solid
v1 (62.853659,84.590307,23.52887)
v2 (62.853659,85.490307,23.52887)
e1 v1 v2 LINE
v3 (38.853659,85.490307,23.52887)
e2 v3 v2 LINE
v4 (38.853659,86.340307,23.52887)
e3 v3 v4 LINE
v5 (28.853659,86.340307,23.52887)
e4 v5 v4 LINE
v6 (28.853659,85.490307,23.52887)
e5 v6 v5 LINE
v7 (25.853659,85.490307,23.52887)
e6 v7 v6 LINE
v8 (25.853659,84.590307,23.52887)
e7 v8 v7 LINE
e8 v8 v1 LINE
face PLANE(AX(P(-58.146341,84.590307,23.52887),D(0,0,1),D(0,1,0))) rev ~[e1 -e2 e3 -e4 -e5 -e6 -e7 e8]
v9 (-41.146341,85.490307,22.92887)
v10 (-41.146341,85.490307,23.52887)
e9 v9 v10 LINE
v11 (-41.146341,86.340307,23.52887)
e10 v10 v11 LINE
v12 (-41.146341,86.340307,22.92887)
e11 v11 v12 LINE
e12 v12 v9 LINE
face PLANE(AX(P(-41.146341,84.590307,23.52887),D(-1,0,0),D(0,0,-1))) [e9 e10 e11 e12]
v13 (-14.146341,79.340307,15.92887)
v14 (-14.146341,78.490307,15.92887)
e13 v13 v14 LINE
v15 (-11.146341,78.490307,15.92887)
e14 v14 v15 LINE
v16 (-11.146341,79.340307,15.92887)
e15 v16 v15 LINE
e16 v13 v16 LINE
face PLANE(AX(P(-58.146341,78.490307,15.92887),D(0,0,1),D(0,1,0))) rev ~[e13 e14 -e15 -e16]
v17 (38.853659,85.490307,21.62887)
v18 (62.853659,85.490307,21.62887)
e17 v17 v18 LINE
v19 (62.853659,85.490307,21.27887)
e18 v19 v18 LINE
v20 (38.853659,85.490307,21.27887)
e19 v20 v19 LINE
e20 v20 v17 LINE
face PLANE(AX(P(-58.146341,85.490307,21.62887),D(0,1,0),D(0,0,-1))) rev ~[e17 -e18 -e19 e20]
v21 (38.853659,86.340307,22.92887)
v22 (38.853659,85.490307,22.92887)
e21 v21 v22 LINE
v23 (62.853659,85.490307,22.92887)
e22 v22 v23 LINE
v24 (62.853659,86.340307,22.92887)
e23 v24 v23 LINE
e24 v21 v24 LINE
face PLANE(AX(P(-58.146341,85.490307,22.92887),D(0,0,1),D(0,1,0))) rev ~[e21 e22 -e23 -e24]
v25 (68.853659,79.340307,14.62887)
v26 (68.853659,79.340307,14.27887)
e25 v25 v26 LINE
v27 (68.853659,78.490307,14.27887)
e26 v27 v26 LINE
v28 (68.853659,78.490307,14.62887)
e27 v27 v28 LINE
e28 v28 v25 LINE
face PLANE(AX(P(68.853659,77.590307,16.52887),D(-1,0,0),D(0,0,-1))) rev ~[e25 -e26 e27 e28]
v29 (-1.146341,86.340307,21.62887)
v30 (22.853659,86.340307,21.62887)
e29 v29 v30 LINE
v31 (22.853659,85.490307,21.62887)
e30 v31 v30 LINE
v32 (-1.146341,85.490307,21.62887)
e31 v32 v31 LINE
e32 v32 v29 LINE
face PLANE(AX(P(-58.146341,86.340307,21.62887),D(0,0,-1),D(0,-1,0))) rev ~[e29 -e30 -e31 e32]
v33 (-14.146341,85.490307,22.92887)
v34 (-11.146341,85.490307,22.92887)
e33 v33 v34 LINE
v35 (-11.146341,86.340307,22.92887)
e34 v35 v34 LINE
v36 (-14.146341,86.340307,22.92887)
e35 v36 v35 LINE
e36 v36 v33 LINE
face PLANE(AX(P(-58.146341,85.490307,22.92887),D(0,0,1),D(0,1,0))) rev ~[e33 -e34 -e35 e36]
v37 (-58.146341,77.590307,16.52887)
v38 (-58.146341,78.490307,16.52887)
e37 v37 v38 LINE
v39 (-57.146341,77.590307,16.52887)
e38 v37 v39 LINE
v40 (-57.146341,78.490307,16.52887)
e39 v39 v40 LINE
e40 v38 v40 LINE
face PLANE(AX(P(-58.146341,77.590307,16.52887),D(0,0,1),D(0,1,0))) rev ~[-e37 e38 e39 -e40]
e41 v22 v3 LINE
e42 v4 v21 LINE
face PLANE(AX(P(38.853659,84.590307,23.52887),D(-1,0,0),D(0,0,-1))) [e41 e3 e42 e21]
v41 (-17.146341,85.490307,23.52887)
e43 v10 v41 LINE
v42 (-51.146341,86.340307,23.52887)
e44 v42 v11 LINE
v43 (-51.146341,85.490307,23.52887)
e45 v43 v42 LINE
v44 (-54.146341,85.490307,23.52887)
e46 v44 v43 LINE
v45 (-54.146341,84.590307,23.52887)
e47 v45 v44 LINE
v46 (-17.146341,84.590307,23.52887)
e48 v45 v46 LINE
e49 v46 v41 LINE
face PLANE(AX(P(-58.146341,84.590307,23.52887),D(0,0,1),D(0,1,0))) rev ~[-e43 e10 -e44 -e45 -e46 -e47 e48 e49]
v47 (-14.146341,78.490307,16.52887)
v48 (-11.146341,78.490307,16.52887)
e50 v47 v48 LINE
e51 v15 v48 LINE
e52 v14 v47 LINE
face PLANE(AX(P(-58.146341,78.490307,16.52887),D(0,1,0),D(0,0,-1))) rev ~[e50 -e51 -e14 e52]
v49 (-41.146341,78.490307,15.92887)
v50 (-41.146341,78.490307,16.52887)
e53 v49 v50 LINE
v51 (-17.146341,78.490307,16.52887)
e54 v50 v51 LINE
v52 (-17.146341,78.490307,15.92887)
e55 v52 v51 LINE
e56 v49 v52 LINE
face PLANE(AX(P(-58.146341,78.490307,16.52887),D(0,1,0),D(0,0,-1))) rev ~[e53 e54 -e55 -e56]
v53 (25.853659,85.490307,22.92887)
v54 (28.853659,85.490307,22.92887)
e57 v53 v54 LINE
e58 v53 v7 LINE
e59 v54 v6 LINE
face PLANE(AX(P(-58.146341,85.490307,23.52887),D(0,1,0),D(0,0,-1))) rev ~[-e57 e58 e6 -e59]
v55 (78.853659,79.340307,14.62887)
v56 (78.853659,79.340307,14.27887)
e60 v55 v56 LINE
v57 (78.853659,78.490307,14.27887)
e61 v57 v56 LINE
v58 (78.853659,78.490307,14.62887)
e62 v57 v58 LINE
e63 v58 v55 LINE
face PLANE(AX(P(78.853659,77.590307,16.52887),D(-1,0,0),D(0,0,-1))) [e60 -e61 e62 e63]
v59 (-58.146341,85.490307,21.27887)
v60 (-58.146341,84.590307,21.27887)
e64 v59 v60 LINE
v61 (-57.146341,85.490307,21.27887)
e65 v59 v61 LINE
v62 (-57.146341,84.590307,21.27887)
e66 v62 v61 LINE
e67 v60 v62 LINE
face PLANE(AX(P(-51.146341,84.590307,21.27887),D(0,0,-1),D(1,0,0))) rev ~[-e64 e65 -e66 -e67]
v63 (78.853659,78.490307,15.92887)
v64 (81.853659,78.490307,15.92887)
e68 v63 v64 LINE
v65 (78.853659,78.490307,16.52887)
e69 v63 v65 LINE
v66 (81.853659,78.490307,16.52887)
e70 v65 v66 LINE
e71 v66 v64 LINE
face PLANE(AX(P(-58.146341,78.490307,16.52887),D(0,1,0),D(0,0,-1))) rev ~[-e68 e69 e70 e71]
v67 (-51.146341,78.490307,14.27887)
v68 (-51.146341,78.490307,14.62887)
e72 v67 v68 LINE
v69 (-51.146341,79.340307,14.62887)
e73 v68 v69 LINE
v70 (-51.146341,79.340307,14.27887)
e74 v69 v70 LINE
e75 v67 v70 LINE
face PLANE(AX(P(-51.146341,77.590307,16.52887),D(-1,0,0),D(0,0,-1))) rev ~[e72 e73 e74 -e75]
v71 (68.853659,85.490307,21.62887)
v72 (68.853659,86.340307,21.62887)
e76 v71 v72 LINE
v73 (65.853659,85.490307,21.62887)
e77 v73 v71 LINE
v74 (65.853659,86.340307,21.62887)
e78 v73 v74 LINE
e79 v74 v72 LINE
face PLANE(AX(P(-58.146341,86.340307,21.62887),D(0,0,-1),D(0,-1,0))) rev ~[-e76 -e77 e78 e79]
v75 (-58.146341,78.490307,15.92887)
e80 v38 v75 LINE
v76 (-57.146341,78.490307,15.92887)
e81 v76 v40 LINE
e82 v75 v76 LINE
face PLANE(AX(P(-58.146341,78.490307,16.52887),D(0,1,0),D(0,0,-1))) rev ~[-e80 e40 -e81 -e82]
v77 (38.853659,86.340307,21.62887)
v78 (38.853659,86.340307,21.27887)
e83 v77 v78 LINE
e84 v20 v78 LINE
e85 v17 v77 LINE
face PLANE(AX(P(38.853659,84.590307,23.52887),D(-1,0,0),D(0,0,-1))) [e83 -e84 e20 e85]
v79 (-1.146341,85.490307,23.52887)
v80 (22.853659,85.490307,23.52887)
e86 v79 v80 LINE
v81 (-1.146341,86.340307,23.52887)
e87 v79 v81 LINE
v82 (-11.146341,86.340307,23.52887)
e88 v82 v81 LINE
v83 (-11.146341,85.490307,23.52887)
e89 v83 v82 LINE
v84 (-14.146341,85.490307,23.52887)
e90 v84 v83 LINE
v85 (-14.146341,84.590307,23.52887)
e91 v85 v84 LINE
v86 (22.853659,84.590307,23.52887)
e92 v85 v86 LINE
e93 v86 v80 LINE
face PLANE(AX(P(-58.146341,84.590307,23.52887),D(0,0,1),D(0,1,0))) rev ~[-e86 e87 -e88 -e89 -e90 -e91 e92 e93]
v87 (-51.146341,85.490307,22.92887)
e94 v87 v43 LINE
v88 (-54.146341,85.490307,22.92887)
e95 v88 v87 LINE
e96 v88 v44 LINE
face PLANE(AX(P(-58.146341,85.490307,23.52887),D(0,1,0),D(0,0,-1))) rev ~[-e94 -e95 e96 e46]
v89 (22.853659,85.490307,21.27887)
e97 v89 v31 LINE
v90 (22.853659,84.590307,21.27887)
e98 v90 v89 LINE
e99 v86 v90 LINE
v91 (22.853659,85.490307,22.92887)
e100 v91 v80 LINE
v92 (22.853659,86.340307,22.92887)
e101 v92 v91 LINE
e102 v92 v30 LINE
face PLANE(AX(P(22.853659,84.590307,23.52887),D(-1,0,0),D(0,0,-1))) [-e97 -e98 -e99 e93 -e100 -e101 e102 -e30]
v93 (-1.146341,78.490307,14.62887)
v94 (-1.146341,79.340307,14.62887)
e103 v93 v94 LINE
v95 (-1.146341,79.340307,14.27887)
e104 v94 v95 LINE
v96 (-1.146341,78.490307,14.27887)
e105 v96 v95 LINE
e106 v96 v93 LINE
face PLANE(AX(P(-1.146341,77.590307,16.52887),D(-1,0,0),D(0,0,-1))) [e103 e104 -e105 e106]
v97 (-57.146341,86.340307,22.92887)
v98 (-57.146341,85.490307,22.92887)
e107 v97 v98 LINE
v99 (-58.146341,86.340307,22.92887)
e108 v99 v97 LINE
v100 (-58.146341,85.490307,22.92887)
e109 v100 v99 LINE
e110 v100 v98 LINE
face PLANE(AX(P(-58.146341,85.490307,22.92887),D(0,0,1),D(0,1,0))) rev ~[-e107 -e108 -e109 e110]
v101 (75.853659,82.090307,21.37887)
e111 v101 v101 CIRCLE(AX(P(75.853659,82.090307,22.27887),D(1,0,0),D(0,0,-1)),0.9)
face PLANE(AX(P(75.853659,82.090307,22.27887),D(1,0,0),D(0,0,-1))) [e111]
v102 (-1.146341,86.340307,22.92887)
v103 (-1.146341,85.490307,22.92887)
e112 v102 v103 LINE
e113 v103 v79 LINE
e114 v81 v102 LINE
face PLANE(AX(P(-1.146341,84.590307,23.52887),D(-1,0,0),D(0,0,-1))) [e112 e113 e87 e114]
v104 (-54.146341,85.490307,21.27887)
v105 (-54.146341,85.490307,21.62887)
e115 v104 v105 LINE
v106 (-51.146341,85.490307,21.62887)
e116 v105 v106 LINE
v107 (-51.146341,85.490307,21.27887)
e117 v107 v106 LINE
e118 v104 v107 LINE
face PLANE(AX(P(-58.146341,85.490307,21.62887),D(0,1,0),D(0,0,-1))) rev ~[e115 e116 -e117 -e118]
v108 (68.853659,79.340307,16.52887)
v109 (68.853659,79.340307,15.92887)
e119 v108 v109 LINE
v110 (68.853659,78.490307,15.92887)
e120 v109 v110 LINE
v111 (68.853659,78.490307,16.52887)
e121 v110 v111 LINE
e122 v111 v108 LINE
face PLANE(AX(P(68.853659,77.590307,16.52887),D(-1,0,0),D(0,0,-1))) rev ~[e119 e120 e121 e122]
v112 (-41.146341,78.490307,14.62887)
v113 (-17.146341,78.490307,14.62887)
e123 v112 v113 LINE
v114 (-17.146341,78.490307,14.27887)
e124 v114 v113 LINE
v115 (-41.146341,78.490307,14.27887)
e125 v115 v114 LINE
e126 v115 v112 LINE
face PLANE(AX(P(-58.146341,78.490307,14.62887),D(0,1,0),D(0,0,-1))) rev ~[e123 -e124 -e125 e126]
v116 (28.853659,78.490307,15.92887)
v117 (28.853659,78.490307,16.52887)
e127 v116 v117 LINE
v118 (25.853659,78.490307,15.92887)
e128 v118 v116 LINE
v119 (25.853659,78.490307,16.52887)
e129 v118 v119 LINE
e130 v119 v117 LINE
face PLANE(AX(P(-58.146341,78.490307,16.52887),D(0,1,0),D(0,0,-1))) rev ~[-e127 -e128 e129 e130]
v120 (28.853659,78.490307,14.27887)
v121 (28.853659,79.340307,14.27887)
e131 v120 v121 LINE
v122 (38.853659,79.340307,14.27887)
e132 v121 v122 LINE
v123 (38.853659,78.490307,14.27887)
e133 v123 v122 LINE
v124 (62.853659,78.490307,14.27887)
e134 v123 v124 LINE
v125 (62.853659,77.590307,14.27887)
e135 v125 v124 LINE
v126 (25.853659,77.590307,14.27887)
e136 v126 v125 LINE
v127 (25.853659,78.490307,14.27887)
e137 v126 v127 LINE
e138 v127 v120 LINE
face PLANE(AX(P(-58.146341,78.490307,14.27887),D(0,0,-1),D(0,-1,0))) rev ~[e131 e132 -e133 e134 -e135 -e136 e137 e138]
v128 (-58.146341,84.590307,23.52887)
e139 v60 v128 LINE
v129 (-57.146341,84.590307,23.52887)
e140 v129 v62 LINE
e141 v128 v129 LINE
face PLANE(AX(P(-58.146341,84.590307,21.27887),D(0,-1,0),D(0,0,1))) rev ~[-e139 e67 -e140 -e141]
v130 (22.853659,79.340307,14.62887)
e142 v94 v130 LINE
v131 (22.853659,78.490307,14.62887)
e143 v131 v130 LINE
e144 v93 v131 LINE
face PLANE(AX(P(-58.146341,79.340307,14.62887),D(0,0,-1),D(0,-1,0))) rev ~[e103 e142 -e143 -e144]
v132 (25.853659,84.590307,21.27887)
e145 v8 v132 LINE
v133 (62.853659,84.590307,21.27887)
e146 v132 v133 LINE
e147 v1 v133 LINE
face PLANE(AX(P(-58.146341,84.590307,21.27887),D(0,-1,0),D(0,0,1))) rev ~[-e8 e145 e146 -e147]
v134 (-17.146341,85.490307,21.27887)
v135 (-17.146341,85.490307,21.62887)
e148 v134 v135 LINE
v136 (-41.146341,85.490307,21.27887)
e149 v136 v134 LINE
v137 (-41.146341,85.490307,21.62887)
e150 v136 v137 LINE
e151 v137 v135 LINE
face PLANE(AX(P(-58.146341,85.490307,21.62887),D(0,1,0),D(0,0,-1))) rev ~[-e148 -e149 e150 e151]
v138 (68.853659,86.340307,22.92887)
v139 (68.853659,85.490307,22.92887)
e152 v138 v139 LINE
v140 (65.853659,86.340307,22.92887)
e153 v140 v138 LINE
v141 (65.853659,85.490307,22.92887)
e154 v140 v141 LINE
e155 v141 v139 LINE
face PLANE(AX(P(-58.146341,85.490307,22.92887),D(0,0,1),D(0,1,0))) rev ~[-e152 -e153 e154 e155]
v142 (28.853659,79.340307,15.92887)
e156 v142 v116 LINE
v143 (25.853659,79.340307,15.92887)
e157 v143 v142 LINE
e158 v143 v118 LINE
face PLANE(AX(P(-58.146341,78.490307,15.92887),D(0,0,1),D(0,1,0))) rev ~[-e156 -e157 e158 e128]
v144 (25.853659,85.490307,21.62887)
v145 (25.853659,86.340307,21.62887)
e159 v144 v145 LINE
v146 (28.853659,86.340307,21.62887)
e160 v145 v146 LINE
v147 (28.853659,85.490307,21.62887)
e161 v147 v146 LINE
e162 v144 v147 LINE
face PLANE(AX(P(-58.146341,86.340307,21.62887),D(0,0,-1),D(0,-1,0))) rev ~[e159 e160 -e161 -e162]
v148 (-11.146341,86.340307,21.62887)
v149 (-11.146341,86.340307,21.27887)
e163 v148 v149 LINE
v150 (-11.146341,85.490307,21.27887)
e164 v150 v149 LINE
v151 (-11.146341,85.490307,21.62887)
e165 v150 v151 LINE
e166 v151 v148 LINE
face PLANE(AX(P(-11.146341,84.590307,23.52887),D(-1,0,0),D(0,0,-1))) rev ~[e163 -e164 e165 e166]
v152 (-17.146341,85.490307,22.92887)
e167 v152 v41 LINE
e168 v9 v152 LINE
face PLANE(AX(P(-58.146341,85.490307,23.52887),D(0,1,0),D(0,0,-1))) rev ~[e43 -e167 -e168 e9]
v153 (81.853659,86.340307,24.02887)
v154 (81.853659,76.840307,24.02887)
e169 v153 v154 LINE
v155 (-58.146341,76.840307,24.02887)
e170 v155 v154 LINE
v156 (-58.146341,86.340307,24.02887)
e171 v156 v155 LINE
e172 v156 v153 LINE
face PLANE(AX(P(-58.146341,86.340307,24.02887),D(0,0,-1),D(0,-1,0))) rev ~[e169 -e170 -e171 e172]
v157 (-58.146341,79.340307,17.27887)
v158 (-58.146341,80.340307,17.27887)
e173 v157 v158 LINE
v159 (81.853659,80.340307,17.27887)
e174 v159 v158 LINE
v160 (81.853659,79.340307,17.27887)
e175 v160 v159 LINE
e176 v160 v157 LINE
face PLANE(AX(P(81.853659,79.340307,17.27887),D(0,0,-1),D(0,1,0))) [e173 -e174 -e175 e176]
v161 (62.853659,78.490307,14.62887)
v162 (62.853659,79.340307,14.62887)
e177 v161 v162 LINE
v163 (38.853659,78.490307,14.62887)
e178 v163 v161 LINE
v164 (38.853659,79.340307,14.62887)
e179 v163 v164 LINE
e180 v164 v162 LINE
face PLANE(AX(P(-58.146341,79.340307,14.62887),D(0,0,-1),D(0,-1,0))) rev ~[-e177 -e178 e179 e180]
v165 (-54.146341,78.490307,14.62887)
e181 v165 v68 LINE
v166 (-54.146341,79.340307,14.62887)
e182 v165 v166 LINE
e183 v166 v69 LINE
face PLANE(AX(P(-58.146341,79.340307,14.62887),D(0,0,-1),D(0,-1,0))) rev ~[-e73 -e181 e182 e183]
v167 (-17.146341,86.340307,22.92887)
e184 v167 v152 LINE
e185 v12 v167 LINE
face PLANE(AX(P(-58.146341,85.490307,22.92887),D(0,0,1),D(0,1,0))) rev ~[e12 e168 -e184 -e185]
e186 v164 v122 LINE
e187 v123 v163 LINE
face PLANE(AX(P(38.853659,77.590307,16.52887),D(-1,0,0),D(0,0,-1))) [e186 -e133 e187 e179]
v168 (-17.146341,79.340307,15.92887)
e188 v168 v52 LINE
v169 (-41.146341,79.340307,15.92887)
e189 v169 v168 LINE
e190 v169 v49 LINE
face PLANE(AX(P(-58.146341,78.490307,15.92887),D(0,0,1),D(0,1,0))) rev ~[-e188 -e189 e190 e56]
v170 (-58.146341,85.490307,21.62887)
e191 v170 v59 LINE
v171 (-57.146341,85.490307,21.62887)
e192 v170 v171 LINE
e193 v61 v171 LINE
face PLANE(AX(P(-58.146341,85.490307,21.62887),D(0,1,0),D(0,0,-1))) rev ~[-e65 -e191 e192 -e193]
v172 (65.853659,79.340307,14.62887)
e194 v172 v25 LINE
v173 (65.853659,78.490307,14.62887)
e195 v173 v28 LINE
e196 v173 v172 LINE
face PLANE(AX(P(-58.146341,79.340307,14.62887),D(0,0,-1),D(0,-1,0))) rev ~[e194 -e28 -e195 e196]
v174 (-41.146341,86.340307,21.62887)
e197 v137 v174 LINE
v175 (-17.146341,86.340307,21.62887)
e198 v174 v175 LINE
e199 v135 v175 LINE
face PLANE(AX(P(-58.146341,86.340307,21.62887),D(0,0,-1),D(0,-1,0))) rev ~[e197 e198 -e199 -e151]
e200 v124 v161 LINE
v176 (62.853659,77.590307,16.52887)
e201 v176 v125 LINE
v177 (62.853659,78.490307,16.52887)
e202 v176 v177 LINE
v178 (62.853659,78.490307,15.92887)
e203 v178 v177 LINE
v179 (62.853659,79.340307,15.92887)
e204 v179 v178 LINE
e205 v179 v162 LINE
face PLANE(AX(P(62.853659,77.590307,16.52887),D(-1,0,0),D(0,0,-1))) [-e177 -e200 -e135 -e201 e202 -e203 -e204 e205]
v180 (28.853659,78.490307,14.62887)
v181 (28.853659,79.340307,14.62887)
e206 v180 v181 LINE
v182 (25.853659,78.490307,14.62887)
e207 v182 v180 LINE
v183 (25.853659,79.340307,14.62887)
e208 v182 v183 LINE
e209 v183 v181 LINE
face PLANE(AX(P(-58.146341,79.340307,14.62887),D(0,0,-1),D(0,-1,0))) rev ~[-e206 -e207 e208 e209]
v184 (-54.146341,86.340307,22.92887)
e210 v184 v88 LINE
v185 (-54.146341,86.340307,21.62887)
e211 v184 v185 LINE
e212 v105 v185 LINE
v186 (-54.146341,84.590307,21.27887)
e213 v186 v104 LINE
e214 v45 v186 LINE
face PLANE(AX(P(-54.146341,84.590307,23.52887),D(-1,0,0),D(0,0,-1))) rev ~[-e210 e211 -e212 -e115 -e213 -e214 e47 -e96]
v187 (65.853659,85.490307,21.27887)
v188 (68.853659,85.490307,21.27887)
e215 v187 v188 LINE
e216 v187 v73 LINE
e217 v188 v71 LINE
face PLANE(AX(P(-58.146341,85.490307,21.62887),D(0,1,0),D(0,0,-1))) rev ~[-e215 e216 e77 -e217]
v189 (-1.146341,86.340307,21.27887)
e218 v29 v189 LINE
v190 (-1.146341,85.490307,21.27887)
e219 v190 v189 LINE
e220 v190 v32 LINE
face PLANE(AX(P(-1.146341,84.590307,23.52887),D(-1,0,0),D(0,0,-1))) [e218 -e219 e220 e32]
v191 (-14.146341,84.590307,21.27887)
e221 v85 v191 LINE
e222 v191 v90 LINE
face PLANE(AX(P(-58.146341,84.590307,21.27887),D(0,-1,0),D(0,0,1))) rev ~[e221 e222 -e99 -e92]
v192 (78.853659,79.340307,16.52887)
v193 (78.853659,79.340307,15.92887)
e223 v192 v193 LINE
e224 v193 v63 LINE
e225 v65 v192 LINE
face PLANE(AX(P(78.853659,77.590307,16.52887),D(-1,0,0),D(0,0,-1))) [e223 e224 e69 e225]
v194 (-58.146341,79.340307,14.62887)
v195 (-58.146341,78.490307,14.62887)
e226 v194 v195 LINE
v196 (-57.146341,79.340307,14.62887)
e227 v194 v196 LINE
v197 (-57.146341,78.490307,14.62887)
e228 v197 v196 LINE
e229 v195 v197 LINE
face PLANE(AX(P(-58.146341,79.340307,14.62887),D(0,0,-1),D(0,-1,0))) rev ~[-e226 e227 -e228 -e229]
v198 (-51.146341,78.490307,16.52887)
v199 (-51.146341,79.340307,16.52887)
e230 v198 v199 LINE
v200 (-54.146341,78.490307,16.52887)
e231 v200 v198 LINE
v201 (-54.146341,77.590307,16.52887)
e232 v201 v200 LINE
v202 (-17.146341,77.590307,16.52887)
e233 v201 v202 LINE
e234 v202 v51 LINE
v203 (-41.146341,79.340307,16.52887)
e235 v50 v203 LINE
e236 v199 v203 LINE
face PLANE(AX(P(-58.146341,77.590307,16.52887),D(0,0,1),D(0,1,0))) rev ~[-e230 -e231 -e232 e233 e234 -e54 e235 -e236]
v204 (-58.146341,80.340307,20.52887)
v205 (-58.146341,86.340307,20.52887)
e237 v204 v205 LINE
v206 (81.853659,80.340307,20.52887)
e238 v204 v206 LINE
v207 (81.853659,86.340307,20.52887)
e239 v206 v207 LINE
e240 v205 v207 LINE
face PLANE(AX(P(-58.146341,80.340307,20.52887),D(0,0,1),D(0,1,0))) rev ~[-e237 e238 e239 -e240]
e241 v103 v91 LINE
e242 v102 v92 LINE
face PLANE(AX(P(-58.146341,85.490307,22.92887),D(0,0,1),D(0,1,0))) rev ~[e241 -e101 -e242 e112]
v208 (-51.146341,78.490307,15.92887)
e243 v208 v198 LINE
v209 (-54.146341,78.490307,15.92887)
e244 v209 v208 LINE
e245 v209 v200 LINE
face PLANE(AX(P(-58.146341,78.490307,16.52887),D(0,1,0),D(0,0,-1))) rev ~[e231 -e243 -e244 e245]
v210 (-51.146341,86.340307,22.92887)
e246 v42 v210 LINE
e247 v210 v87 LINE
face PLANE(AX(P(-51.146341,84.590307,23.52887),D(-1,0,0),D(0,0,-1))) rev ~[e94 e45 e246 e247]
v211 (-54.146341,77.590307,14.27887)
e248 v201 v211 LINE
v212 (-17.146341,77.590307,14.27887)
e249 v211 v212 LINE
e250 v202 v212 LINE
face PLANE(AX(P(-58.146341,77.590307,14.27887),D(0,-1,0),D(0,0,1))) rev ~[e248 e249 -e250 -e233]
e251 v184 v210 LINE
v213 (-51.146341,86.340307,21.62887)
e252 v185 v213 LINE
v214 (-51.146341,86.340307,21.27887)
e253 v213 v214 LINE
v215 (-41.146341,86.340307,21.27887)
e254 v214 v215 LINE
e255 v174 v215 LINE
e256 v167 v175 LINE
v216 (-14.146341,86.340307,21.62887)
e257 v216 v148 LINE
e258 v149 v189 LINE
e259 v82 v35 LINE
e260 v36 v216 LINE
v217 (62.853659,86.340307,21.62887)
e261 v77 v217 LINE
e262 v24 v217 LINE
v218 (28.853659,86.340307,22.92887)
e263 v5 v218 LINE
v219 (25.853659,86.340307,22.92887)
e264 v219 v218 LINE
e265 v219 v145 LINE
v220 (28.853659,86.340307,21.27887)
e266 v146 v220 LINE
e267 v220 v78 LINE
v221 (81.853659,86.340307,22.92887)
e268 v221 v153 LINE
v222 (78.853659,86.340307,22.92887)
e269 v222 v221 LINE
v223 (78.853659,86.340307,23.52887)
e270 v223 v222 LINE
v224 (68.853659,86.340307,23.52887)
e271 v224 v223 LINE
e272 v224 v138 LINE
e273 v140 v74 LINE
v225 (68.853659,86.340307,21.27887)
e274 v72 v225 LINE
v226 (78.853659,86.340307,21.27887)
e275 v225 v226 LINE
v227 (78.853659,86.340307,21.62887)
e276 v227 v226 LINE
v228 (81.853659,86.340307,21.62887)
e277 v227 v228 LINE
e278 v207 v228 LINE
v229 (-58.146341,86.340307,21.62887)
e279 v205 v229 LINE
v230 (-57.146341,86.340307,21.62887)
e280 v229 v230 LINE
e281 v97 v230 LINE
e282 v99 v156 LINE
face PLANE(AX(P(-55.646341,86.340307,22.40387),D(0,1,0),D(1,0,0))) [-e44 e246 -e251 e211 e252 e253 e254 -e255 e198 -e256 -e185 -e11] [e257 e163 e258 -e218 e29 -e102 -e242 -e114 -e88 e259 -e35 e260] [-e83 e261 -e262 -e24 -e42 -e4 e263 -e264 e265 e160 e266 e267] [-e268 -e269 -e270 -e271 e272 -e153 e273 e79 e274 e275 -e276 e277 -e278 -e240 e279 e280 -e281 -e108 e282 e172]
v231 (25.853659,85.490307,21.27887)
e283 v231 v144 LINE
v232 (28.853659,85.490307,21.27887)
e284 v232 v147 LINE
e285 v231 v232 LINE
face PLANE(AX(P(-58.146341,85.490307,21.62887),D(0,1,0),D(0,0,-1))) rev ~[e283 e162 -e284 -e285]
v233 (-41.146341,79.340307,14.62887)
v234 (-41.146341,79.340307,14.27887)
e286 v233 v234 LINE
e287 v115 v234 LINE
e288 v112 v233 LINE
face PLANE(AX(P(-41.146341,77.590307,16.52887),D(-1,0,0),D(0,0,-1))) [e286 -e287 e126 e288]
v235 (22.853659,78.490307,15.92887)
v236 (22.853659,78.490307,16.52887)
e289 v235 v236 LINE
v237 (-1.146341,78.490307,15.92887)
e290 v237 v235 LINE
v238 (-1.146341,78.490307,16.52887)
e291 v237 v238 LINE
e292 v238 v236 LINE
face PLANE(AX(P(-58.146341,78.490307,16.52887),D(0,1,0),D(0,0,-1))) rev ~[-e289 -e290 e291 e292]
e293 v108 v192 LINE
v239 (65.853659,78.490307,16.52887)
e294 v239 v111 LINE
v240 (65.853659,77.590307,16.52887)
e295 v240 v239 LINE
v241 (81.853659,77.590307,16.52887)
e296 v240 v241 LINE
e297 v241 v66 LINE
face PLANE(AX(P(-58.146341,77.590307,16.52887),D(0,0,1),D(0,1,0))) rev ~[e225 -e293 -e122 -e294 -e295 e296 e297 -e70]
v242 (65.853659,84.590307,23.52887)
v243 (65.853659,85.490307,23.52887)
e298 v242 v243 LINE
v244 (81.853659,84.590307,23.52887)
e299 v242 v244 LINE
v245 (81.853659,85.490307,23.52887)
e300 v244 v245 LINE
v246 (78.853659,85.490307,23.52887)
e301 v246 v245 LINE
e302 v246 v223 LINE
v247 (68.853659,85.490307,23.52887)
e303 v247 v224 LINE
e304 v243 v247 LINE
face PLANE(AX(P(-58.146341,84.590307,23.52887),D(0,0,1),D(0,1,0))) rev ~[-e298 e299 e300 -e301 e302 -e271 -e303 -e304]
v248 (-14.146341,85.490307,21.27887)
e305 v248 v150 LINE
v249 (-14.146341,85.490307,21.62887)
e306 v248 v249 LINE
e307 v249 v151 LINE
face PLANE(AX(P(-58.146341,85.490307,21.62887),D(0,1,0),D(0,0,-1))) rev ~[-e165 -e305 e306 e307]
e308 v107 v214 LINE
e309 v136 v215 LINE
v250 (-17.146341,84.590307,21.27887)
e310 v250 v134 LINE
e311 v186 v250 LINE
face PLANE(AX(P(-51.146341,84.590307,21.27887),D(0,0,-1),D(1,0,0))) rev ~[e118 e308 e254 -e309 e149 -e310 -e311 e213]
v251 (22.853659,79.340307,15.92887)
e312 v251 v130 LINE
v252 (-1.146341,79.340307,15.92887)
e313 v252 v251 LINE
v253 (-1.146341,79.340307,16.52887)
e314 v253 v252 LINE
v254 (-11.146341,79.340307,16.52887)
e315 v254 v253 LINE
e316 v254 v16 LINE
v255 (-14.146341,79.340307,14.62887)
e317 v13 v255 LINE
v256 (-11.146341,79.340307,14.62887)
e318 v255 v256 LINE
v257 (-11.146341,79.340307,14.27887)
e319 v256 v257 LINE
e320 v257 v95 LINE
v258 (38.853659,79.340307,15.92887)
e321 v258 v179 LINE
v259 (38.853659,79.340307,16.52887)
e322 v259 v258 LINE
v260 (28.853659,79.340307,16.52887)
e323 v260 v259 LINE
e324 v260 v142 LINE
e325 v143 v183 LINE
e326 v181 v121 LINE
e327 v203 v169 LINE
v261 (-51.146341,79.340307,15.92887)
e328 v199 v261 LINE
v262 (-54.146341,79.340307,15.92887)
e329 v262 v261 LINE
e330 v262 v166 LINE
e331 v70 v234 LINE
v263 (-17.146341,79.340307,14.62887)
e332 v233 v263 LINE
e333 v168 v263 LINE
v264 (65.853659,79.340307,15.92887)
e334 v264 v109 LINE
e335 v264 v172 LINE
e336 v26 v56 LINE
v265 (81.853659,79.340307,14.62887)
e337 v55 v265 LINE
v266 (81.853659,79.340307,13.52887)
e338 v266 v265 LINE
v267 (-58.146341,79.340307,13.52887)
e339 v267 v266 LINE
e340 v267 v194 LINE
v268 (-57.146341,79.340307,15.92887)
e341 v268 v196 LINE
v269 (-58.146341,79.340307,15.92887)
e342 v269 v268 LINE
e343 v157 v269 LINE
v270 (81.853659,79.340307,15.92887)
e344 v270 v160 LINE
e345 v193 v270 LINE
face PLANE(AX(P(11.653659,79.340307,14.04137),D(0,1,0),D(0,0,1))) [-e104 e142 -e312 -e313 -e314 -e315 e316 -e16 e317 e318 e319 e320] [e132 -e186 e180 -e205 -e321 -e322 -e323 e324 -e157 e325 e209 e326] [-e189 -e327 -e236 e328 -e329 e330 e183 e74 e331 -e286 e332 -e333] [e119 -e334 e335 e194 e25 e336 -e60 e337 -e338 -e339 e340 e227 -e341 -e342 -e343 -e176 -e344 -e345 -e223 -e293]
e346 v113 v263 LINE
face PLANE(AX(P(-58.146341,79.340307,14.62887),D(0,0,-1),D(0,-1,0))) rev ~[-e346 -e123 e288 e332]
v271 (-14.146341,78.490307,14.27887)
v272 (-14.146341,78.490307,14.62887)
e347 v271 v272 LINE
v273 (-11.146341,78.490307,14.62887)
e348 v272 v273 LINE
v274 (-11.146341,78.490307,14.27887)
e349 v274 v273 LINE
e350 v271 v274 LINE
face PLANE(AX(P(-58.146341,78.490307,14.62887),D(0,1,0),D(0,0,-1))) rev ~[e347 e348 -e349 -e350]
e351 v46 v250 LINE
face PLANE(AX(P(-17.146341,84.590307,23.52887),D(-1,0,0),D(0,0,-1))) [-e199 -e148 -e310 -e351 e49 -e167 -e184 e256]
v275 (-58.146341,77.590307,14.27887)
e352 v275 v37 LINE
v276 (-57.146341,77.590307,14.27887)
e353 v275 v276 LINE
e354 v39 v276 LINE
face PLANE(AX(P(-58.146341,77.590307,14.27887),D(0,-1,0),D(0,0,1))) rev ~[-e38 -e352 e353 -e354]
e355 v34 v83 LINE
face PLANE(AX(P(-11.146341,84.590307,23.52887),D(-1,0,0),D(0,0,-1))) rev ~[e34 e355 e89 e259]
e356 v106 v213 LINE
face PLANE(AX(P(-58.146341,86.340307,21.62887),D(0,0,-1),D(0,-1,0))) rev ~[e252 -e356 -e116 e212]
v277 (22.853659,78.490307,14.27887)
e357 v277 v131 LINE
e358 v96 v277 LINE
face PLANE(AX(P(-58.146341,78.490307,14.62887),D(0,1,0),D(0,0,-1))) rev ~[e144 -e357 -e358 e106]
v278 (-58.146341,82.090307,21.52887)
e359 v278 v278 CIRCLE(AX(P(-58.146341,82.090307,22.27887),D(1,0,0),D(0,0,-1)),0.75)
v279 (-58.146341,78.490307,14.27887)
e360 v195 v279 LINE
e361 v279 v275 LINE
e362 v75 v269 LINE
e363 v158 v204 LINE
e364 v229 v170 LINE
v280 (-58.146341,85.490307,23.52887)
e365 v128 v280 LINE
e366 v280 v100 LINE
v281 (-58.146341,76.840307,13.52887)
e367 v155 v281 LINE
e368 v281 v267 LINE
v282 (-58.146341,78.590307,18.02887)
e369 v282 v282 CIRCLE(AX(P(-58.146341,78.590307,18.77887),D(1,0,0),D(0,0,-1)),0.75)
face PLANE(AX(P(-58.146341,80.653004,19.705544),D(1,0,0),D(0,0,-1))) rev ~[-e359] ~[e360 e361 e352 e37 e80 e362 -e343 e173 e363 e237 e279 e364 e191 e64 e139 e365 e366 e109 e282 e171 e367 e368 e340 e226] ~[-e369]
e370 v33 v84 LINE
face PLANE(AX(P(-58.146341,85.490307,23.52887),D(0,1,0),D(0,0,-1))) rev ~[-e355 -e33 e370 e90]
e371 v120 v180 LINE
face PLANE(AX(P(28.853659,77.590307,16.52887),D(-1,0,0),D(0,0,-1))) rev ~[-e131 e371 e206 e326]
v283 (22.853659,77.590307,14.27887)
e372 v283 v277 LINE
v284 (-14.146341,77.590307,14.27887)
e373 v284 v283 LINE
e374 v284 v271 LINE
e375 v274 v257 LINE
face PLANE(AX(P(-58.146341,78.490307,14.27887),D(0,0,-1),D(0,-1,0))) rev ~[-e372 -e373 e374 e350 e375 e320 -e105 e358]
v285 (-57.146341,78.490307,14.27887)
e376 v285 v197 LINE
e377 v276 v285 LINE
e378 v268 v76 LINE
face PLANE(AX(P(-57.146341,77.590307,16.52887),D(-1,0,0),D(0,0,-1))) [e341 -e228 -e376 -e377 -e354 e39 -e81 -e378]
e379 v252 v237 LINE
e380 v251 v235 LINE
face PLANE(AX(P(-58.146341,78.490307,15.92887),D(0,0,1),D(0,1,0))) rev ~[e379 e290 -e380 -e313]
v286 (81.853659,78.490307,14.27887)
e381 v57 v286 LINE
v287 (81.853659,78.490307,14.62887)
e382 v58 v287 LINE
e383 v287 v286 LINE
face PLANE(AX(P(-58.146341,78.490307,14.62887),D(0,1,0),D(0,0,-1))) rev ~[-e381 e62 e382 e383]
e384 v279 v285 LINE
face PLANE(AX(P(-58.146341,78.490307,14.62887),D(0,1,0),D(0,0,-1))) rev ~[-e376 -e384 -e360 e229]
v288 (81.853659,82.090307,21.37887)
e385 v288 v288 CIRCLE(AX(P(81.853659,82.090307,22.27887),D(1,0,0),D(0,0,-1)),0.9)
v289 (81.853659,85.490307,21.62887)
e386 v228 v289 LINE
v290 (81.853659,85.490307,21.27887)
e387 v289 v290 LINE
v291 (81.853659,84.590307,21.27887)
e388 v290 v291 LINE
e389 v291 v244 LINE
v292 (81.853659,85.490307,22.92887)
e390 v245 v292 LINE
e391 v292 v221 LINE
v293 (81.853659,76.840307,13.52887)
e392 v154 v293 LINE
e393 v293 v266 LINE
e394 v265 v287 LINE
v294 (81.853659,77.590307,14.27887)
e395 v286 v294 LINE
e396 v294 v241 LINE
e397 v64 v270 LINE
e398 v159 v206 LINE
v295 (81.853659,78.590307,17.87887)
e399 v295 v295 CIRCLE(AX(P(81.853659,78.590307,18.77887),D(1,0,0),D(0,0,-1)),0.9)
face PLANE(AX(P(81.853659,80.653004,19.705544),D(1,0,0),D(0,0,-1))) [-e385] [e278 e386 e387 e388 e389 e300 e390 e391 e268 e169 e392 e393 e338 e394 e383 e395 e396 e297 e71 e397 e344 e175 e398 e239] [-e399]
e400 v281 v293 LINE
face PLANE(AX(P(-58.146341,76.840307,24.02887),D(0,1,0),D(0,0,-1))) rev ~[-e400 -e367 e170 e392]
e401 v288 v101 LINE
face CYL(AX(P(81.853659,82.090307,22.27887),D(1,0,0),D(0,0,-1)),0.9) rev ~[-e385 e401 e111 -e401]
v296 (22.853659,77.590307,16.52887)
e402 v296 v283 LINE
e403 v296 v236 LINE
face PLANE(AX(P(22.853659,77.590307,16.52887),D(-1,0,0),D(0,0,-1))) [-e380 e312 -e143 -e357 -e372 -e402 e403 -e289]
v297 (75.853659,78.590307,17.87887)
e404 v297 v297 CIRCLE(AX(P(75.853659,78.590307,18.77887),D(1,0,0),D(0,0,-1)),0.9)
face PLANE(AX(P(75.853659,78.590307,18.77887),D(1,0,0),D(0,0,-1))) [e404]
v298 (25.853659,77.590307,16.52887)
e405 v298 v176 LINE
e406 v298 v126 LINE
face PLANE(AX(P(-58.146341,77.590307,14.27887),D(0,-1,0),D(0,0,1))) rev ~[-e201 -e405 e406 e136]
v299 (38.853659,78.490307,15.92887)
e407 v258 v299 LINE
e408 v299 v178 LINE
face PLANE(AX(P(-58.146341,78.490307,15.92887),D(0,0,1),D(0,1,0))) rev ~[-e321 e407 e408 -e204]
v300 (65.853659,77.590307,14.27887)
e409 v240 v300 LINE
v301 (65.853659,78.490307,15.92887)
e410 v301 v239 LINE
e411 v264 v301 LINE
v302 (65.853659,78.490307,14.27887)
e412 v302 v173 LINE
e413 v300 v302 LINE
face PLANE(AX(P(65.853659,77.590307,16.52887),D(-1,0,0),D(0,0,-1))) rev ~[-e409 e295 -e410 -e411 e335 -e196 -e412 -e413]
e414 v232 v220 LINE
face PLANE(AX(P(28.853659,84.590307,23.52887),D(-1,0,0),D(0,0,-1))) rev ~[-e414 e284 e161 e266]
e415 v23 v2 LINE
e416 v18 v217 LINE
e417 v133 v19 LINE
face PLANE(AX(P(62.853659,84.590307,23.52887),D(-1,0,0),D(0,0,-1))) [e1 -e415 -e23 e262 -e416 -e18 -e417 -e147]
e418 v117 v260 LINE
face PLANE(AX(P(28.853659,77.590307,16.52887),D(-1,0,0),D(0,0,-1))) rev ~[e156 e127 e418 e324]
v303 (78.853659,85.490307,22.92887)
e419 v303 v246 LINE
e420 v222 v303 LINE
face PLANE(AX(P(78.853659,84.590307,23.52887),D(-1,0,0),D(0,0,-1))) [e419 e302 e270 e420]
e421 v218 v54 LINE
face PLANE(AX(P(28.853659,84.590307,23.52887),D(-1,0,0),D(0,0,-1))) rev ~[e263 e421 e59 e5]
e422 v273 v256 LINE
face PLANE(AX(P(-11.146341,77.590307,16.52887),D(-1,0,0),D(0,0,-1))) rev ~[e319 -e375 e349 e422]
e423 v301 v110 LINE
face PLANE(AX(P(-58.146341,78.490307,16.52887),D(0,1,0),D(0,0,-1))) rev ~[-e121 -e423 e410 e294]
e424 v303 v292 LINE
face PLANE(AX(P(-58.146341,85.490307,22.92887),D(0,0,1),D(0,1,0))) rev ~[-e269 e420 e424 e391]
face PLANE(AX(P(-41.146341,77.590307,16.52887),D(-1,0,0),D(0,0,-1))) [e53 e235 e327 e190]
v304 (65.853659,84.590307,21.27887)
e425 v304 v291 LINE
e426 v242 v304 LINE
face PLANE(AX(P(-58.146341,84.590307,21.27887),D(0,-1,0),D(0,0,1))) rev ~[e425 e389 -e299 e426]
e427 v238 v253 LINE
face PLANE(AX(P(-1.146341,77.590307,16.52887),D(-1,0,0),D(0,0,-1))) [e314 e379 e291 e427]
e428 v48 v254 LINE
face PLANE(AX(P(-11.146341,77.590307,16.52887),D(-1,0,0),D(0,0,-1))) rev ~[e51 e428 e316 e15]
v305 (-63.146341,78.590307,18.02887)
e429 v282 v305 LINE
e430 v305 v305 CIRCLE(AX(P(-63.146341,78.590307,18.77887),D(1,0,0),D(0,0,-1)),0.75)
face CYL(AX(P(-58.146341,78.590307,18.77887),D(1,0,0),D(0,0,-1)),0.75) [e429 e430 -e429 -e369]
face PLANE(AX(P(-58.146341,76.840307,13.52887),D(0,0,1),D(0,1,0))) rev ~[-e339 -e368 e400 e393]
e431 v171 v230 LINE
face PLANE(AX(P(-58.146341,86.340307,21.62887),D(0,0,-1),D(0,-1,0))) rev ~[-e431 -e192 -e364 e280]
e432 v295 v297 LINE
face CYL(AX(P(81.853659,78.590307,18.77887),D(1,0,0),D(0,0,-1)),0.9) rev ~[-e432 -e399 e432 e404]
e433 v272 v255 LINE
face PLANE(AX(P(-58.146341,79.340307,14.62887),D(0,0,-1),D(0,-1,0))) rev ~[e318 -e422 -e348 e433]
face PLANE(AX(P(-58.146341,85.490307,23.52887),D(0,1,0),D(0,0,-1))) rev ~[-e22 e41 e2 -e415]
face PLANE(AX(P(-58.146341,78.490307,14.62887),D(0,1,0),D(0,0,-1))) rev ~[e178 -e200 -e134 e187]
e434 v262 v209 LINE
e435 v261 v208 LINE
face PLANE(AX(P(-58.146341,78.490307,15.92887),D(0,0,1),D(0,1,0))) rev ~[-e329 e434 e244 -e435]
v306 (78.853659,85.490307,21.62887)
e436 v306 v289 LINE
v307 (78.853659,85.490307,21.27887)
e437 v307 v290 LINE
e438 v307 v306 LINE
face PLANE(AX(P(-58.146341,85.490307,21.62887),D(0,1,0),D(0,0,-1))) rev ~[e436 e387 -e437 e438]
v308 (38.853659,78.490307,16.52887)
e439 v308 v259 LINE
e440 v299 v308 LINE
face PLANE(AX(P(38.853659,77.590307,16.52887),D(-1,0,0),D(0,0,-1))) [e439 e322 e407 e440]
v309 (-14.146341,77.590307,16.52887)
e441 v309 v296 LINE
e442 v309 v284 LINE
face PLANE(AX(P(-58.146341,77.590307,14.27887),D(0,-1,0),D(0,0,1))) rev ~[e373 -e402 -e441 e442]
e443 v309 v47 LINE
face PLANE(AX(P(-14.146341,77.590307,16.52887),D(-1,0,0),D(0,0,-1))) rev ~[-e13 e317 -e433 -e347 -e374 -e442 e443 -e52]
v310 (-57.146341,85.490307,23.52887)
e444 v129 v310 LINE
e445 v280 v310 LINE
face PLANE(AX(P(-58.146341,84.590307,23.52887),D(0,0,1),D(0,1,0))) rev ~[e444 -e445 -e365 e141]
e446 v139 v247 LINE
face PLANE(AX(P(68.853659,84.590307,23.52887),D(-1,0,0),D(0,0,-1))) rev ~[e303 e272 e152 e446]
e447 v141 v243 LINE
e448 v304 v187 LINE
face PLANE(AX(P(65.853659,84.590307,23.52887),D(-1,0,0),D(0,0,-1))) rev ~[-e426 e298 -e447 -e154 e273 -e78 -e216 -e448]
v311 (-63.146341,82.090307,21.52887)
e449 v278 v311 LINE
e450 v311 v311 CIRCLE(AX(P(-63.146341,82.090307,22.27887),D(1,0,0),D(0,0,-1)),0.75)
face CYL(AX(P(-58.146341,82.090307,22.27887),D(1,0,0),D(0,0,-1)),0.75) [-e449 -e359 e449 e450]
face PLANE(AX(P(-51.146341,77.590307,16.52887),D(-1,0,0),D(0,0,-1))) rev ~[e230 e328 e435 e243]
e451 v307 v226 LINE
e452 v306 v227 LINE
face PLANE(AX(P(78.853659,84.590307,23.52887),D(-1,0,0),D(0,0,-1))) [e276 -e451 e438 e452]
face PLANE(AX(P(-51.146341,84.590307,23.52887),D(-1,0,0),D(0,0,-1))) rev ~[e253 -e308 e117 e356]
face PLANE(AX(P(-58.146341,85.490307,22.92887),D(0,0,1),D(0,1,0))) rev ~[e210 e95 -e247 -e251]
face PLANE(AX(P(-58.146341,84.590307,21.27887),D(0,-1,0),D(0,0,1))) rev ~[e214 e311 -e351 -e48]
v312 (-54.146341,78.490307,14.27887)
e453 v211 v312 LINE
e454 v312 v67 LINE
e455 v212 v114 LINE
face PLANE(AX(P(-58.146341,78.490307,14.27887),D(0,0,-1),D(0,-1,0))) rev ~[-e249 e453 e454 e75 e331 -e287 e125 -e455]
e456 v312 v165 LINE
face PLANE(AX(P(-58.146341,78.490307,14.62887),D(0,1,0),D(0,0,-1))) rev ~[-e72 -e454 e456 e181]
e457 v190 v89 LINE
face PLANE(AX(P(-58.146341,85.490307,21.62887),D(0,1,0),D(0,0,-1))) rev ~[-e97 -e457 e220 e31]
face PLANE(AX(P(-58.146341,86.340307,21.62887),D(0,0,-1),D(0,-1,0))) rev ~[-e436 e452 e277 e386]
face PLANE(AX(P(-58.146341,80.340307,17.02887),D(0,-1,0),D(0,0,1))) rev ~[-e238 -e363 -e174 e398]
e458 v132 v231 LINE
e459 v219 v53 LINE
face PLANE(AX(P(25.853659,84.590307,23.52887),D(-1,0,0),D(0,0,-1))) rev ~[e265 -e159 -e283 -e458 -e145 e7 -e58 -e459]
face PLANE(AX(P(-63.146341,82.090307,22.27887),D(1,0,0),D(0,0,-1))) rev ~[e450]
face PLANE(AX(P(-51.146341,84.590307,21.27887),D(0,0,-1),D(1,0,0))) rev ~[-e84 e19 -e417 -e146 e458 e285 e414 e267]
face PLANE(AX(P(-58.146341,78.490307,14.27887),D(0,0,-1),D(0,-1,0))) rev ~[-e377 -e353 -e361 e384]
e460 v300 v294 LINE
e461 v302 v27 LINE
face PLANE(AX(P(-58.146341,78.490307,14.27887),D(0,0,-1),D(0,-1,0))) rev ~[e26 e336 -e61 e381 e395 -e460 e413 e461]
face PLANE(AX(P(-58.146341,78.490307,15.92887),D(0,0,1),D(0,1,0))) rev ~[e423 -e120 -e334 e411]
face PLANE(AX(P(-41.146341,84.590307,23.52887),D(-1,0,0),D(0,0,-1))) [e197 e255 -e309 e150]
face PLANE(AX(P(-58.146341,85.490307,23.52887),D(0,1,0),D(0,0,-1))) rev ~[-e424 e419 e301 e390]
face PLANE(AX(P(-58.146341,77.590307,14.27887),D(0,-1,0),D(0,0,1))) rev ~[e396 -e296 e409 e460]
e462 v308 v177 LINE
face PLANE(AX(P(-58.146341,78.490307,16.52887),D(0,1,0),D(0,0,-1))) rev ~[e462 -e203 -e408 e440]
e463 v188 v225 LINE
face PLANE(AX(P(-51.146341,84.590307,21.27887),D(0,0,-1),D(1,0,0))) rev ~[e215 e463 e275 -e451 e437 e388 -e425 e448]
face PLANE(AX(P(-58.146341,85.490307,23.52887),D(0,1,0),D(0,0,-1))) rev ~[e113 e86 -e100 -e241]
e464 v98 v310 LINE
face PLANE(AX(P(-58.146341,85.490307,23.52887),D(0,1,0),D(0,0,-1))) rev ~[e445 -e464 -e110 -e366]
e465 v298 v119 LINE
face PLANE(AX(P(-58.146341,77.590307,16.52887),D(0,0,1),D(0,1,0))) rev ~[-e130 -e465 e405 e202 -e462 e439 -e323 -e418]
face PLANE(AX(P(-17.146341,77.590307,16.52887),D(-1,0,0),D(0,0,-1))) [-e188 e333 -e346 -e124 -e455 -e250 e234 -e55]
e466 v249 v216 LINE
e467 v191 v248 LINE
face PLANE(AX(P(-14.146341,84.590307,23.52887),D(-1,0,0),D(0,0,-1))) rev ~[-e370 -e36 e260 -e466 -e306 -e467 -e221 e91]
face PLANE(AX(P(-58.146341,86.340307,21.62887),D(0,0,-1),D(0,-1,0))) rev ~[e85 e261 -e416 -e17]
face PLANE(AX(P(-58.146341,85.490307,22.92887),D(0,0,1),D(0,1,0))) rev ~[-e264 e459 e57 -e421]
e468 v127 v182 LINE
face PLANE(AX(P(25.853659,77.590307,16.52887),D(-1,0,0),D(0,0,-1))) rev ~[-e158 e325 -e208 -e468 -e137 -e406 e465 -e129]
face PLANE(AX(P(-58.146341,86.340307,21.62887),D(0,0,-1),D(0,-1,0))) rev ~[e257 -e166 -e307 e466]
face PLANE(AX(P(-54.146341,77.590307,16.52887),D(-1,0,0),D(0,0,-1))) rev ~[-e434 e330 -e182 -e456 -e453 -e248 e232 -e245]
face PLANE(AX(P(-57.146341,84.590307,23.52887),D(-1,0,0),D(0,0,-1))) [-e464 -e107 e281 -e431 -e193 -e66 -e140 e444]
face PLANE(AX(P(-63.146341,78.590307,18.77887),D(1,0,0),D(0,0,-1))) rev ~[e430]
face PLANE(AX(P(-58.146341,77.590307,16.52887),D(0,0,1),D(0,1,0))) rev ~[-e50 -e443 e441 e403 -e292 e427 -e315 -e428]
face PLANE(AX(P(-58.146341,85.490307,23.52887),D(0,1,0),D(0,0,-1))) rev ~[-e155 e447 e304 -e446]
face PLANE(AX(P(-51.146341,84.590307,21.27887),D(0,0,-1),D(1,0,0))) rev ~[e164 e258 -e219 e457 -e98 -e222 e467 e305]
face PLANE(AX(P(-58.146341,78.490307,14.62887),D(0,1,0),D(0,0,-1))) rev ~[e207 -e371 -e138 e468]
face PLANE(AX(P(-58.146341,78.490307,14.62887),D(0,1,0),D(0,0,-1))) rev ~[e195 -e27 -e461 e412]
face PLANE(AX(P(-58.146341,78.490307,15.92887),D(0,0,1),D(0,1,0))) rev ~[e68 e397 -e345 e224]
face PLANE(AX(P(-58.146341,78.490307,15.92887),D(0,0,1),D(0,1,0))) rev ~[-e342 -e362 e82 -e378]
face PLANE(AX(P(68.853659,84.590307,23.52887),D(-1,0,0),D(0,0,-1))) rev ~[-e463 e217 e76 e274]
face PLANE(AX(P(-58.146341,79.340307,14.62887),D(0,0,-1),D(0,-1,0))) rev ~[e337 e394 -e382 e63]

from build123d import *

# Parameters (mm, degrees)
BOSS_EXTRUDE1_DEPTH = 140
SKETCH1_5_R         = 0.75
BOSS_EXTRUDE2_DEPTH = 5
SKETCH2_R           = 0.9
SKETCH2_R_2         = 0.75
CUT_EXTRUDE1_DEPTH  = 6
SKETCH3_W           = 0.25
SKETCH3_H           = 1
CUT_EXTRUDE2_DEPTH  = 171.461242575
SKETCH4_W           = 10
SKETCH4_H           = 2.25
CUT_EXTRUDE3_DEPTH  = 86.659037056
SKETCH6_W           = 10
SKETCH6_H           = 2.25
CUT_EXTRUDE4_DEPTH  = 86.755295051
BOSS_EXTRUDE3_REACH = 87.755
SKETCH7_W           = 3
SKETCH7_H           = 2.25
SKETCH8_W           = 3
SKETCH8_H           = 2.25
BOSS_EXTRUDE4_DEPTH = 1.75


with BuildPart() as part:
    # Sketch1 → Boss-Extrude1 (new body)
    with BuildSketch(Plane(origin=(-58.146340827, 0, 0), x_dir=(0, 0, -1), z_dir=(1, 0, 0))):
        Polygon((-20.52887033, 86.340306989), (-21.62887033, 86.340306989), (-21.62887033, 85.490306989), (-21.27887033, 85.490306989), (-21.27887033, 84.590306989), (-23.52887033, 84.590306989), (-23.52887033, 85.490306989), (-22.92887033, 85.490306989), (-22.92887033, 86.340306989), (-24.02887033, 86.340306989), (-24.02887033, 76.840306989), (-13.52887033, 76.840306989), (-13.52887033, 79.340306989), (-14.62887033, 79.340306989), (-14.62887033, 78.490306989), (-14.27887033, 78.490306989), (-14.27887033, 77.590306989), (-16.52887033, 77.590306989), (-16.52887033, 78.490306989), (-15.92887033, 78.490306989), (-15.92887033, 79.340306989), (-17.02887033, 79.340306989), (-17.02887033, 80.340306989), (-20.52887033, 80.340306989), align=None)
    extrude(amount=BOSS_EXTRUDE1_DEPTH)

    # Sketch1<5> → Boss-Extrude2 (add)
    with BuildSketch(Plane(origin=(-58.146340827, 0, 0), x_dir=(0, 0, -1), z_dir=(1, 0, 0))):
        with Locations((-22.27887033, 82.090306989)):
            Circle(SKETCH1_5_R)
        with Locations((-18.77887033, 78.590306989)):
            Circle(SKETCH1_5_R)
    extrude(amount=-BOSS_EXTRUDE2_DEPTH)

    # Sketch2 → Cut-Extrude1 (cut)
    with BuildSketch(Plane(origin=(81.853659173, 0, 0), x_dir=(0, 0, -1), z_dir=(1, 0, 0))):
        with Locations((-22.27887033, 82.090306989)):
            Circle(SKETCH2_R)
        with Locations((-22.27887033, 82.090306989)):
            Circle(SKETCH2_R_2, mode=Mode.SUBTRACT)
        with Locations((-22.27887033, 82.090306989)):
            Circle(SKETCH2_R_2)
        with Locations((-18.77887033, 78.590306989)):
            Circle(SKETCH2_R)
        with Locations((-18.77887033, 78.590306989)):
            Circle(SKETCH2_R_2, mode=Mode.SUBTRACT)
        with Locations((-18.77887033, 78.590306989)):
            Circle(SKETCH2_R_2)
    extrude(amount=-CUT_EXTRUDE1_DEPTH, mode=Mode.SUBTRACT)

    # Sketch3 → Cut-Extrude2 (cut, through all)
    with BuildSketch(Plane(origin=(81.853659173, 0, 0), x_dir=(0, 0, -1), z_dir=(1, 0, 0))):
        with Locations((-17.15387033, 79.840306989)):
            Rectangle(SKETCH3_W, SKETCH3_H)
    extrude(amount=-CUT_EXTRUDE2_DEPTH, mode=Mode.SUBTRACT)

    # Sketch4 → Cut-Extrude3 (cut, through all)
    with BuildSketch(Plane(origin=(0, 84.590306989, 0), x_dir=(1, 0, 0), z_dir=(0, 1, 0))):
        with Locations((73.853659173, -22.40387033)):
            Rectangle(SKETCH4_W, SKETCH4_H)
        with Locations((33.853659173, -22.40387033)):
            Rectangle(SKETCH4_W, SKETCH4_H)
        with Locations((-6.146340827, -22.40387033)):
            Rectangle(SKETCH4_W, SKETCH4_H)
        with Locations((-46.146340827, -22.40387033)):
            Rectangle(SKETCH4_W, SKETCH4_H)
    extrude(amount=CUT_EXTRUDE3_DEPTH, mode=Mode.SUBTRACT)

    # Sketch6 → Cut-Extrude4 (cut, through all)
    with BuildSketch(Plane(origin=(0, 77.590306989, 0), x_dir=(1, 0, 0), z_dir=(0, 1, 0))):
        with Locations((73.853659173, -15.40387033)):
            Rectangle(SKETCH6_W, SKETCH6_H)
        with Locations((33.853659173, -15.40387033)):
            Rectangle(SKETCH6_W, SKETCH6_H)
        with Locations((-6.146340827, -15.40387033)):
            Rectangle(SKETCH6_W, SKETCH6_H)
        with Locations((-46.146340827, -15.40387033)):
            Rectangle(SKETCH6_W, SKETCH6_H)
    extrude(amount=CUT_EXTRUDE4_DEPTH, mode=Mode.SUBTRACT)

    # Boss-Extrude3: up to this face of the body (flat: up to its plane)
    boss_extrude3_end = Plane(part.part.faces().sort_by_distance((11.653659173, 79.340306989, 14.04137033))[0])
    # Sketch7 → Boss-Extrude3 (add, up to the picked face)
    with BuildSketch(Plane(origin=(0, 77.590306989, 0), x_dir=(1, 0, 0), z_dir=(0, 1, 0)), mode=Mode.PRIVATE) as boss_extrude3_sk1:
        with Locations((-55.646340827, -15.40387033)):
            Rectangle(SKETCH7_W, SKETCH7_H)
    boss_extrude3_tool1 = split(extrude(boss_extrude3_sk1.sketch, amount=BOSS_EXTRUDE3_REACH, mode=Mode.PRIVATE), bisect_by=boss_extrude3_end, keep=Keep.BOTH, mode=Mode.PRIVATE)
    # Sketch7 → Boss-Extrude3 (add, up to the picked face)
    with BuildSketch(Plane(origin=(0, 77.590306989, 0), x_dir=(1, 0, 0), z_dir=(0, 1, 0)), mode=Mode.PRIVATE) as boss_extrude3_sk2:
        with Locations((-15.646340827, -15.40387033)):
            Rectangle(SKETCH7_W, SKETCH7_H)
    boss_extrude3_tool2 = split(extrude(boss_extrude3_sk2.sketch, amount=BOSS_EXTRUDE3_REACH, mode=Mode.PRIVATE), bisect_by=boss_extrude3_end, keep=Keep.BOTH, mode=Mode.PRIVATE)
    # Sketch7 → Boss-Extrude3 (add, up to the picked face)
    with BuildSketch(Plane(origin=(0, 77.590306989, 0), x_dir=(1, 0, 0), z_dir=(0, 1, 0)), mode=Mode.PRIVATE) as boss_extrude3_sk3:
        with Locations((24.353659173, -15.40387033)):
            Rectangle(SKETCH7_W, SKETCH7_H)
    boss_extrude3_tool3 = split(extrude(boss_extrude3_sk3.sketch, amount=BOSS_EXTRUDE3_REACH, mode=Mode.PRIVATE), bisect_by=boss_extrude3_end, keep=Keep.BOTH, mode=Mode.PRIVATE)
    # Sketch7 → Boss-Extrude3 (add, up to the picked face)
    with BuildSketch(Plane(origin=(0, 77.590306989, 0), x_dir=(1, 0, 0), z_dir=(0, 1, 0)), mode=Mode.PRIVATE) as boss_extrude3_sk4:
        with Locations((64.353659173, -15.40387033)):
            Rectangle(SKETCH7_W, SKETCH7_H)
    boss_extrude3_tool4 = split(extrude(boss_extrude3_sk4.sketch, amount=BOSS_EXTRUDE3_REACH, mode=Mode.PRIVATE), bisect_by=boss_extrude3_end, keep=Keep.BOTH, mode=Mode.PRIVATE)
    add(boss_extrude3_tool1.solids().sort_by(Axis((-55.646341, 77.590307, 15.40387), (0, 1, 0)))[0])
    add(boss_extrude3_tool2.solids().sort_by(Axis((-15.646341, 77.590307, 15.40387), (0, 1, 0)))[0])
    add(boss_extrude3_tool3.solids().sort_by(Axis((24.353659, 77.590307, 15.40387), (0, 1, 0)))[0])
    add(boss_extrude3_tool4.solids().sort_by(Axis((64.353659, 77.590307, 15.40387), (0, 1, 0)))[0])

    # Sketch8 → Boss-Extrude4 (add)
    with BuildSketch(Plane(origin=(0, 84.590306989, 0), x_dir=(1, 0, 0), z_dir=(0, 1, 0))):
        with Locations((-55.646340827, -22.40387033)):
            Rectangle(SKETCH8_W, SKETCH8_H)
        with Locations((-15.646340827, -22.40387033)):
            Rectangle(SKETCH8_W, SKETCH8_H)
        with Locations((24.353659173, -22.40387033)):
            Rectangle(SKETCH8_W, SKETCH8_H)
        with Locations((64.353659173, -22.40387033)):
            Rectangle(SKETCH8_W, SKETCH8_H)
    extrude(amount=BOSS_EXTRUDE4_DEPTH)


solid = part.part
